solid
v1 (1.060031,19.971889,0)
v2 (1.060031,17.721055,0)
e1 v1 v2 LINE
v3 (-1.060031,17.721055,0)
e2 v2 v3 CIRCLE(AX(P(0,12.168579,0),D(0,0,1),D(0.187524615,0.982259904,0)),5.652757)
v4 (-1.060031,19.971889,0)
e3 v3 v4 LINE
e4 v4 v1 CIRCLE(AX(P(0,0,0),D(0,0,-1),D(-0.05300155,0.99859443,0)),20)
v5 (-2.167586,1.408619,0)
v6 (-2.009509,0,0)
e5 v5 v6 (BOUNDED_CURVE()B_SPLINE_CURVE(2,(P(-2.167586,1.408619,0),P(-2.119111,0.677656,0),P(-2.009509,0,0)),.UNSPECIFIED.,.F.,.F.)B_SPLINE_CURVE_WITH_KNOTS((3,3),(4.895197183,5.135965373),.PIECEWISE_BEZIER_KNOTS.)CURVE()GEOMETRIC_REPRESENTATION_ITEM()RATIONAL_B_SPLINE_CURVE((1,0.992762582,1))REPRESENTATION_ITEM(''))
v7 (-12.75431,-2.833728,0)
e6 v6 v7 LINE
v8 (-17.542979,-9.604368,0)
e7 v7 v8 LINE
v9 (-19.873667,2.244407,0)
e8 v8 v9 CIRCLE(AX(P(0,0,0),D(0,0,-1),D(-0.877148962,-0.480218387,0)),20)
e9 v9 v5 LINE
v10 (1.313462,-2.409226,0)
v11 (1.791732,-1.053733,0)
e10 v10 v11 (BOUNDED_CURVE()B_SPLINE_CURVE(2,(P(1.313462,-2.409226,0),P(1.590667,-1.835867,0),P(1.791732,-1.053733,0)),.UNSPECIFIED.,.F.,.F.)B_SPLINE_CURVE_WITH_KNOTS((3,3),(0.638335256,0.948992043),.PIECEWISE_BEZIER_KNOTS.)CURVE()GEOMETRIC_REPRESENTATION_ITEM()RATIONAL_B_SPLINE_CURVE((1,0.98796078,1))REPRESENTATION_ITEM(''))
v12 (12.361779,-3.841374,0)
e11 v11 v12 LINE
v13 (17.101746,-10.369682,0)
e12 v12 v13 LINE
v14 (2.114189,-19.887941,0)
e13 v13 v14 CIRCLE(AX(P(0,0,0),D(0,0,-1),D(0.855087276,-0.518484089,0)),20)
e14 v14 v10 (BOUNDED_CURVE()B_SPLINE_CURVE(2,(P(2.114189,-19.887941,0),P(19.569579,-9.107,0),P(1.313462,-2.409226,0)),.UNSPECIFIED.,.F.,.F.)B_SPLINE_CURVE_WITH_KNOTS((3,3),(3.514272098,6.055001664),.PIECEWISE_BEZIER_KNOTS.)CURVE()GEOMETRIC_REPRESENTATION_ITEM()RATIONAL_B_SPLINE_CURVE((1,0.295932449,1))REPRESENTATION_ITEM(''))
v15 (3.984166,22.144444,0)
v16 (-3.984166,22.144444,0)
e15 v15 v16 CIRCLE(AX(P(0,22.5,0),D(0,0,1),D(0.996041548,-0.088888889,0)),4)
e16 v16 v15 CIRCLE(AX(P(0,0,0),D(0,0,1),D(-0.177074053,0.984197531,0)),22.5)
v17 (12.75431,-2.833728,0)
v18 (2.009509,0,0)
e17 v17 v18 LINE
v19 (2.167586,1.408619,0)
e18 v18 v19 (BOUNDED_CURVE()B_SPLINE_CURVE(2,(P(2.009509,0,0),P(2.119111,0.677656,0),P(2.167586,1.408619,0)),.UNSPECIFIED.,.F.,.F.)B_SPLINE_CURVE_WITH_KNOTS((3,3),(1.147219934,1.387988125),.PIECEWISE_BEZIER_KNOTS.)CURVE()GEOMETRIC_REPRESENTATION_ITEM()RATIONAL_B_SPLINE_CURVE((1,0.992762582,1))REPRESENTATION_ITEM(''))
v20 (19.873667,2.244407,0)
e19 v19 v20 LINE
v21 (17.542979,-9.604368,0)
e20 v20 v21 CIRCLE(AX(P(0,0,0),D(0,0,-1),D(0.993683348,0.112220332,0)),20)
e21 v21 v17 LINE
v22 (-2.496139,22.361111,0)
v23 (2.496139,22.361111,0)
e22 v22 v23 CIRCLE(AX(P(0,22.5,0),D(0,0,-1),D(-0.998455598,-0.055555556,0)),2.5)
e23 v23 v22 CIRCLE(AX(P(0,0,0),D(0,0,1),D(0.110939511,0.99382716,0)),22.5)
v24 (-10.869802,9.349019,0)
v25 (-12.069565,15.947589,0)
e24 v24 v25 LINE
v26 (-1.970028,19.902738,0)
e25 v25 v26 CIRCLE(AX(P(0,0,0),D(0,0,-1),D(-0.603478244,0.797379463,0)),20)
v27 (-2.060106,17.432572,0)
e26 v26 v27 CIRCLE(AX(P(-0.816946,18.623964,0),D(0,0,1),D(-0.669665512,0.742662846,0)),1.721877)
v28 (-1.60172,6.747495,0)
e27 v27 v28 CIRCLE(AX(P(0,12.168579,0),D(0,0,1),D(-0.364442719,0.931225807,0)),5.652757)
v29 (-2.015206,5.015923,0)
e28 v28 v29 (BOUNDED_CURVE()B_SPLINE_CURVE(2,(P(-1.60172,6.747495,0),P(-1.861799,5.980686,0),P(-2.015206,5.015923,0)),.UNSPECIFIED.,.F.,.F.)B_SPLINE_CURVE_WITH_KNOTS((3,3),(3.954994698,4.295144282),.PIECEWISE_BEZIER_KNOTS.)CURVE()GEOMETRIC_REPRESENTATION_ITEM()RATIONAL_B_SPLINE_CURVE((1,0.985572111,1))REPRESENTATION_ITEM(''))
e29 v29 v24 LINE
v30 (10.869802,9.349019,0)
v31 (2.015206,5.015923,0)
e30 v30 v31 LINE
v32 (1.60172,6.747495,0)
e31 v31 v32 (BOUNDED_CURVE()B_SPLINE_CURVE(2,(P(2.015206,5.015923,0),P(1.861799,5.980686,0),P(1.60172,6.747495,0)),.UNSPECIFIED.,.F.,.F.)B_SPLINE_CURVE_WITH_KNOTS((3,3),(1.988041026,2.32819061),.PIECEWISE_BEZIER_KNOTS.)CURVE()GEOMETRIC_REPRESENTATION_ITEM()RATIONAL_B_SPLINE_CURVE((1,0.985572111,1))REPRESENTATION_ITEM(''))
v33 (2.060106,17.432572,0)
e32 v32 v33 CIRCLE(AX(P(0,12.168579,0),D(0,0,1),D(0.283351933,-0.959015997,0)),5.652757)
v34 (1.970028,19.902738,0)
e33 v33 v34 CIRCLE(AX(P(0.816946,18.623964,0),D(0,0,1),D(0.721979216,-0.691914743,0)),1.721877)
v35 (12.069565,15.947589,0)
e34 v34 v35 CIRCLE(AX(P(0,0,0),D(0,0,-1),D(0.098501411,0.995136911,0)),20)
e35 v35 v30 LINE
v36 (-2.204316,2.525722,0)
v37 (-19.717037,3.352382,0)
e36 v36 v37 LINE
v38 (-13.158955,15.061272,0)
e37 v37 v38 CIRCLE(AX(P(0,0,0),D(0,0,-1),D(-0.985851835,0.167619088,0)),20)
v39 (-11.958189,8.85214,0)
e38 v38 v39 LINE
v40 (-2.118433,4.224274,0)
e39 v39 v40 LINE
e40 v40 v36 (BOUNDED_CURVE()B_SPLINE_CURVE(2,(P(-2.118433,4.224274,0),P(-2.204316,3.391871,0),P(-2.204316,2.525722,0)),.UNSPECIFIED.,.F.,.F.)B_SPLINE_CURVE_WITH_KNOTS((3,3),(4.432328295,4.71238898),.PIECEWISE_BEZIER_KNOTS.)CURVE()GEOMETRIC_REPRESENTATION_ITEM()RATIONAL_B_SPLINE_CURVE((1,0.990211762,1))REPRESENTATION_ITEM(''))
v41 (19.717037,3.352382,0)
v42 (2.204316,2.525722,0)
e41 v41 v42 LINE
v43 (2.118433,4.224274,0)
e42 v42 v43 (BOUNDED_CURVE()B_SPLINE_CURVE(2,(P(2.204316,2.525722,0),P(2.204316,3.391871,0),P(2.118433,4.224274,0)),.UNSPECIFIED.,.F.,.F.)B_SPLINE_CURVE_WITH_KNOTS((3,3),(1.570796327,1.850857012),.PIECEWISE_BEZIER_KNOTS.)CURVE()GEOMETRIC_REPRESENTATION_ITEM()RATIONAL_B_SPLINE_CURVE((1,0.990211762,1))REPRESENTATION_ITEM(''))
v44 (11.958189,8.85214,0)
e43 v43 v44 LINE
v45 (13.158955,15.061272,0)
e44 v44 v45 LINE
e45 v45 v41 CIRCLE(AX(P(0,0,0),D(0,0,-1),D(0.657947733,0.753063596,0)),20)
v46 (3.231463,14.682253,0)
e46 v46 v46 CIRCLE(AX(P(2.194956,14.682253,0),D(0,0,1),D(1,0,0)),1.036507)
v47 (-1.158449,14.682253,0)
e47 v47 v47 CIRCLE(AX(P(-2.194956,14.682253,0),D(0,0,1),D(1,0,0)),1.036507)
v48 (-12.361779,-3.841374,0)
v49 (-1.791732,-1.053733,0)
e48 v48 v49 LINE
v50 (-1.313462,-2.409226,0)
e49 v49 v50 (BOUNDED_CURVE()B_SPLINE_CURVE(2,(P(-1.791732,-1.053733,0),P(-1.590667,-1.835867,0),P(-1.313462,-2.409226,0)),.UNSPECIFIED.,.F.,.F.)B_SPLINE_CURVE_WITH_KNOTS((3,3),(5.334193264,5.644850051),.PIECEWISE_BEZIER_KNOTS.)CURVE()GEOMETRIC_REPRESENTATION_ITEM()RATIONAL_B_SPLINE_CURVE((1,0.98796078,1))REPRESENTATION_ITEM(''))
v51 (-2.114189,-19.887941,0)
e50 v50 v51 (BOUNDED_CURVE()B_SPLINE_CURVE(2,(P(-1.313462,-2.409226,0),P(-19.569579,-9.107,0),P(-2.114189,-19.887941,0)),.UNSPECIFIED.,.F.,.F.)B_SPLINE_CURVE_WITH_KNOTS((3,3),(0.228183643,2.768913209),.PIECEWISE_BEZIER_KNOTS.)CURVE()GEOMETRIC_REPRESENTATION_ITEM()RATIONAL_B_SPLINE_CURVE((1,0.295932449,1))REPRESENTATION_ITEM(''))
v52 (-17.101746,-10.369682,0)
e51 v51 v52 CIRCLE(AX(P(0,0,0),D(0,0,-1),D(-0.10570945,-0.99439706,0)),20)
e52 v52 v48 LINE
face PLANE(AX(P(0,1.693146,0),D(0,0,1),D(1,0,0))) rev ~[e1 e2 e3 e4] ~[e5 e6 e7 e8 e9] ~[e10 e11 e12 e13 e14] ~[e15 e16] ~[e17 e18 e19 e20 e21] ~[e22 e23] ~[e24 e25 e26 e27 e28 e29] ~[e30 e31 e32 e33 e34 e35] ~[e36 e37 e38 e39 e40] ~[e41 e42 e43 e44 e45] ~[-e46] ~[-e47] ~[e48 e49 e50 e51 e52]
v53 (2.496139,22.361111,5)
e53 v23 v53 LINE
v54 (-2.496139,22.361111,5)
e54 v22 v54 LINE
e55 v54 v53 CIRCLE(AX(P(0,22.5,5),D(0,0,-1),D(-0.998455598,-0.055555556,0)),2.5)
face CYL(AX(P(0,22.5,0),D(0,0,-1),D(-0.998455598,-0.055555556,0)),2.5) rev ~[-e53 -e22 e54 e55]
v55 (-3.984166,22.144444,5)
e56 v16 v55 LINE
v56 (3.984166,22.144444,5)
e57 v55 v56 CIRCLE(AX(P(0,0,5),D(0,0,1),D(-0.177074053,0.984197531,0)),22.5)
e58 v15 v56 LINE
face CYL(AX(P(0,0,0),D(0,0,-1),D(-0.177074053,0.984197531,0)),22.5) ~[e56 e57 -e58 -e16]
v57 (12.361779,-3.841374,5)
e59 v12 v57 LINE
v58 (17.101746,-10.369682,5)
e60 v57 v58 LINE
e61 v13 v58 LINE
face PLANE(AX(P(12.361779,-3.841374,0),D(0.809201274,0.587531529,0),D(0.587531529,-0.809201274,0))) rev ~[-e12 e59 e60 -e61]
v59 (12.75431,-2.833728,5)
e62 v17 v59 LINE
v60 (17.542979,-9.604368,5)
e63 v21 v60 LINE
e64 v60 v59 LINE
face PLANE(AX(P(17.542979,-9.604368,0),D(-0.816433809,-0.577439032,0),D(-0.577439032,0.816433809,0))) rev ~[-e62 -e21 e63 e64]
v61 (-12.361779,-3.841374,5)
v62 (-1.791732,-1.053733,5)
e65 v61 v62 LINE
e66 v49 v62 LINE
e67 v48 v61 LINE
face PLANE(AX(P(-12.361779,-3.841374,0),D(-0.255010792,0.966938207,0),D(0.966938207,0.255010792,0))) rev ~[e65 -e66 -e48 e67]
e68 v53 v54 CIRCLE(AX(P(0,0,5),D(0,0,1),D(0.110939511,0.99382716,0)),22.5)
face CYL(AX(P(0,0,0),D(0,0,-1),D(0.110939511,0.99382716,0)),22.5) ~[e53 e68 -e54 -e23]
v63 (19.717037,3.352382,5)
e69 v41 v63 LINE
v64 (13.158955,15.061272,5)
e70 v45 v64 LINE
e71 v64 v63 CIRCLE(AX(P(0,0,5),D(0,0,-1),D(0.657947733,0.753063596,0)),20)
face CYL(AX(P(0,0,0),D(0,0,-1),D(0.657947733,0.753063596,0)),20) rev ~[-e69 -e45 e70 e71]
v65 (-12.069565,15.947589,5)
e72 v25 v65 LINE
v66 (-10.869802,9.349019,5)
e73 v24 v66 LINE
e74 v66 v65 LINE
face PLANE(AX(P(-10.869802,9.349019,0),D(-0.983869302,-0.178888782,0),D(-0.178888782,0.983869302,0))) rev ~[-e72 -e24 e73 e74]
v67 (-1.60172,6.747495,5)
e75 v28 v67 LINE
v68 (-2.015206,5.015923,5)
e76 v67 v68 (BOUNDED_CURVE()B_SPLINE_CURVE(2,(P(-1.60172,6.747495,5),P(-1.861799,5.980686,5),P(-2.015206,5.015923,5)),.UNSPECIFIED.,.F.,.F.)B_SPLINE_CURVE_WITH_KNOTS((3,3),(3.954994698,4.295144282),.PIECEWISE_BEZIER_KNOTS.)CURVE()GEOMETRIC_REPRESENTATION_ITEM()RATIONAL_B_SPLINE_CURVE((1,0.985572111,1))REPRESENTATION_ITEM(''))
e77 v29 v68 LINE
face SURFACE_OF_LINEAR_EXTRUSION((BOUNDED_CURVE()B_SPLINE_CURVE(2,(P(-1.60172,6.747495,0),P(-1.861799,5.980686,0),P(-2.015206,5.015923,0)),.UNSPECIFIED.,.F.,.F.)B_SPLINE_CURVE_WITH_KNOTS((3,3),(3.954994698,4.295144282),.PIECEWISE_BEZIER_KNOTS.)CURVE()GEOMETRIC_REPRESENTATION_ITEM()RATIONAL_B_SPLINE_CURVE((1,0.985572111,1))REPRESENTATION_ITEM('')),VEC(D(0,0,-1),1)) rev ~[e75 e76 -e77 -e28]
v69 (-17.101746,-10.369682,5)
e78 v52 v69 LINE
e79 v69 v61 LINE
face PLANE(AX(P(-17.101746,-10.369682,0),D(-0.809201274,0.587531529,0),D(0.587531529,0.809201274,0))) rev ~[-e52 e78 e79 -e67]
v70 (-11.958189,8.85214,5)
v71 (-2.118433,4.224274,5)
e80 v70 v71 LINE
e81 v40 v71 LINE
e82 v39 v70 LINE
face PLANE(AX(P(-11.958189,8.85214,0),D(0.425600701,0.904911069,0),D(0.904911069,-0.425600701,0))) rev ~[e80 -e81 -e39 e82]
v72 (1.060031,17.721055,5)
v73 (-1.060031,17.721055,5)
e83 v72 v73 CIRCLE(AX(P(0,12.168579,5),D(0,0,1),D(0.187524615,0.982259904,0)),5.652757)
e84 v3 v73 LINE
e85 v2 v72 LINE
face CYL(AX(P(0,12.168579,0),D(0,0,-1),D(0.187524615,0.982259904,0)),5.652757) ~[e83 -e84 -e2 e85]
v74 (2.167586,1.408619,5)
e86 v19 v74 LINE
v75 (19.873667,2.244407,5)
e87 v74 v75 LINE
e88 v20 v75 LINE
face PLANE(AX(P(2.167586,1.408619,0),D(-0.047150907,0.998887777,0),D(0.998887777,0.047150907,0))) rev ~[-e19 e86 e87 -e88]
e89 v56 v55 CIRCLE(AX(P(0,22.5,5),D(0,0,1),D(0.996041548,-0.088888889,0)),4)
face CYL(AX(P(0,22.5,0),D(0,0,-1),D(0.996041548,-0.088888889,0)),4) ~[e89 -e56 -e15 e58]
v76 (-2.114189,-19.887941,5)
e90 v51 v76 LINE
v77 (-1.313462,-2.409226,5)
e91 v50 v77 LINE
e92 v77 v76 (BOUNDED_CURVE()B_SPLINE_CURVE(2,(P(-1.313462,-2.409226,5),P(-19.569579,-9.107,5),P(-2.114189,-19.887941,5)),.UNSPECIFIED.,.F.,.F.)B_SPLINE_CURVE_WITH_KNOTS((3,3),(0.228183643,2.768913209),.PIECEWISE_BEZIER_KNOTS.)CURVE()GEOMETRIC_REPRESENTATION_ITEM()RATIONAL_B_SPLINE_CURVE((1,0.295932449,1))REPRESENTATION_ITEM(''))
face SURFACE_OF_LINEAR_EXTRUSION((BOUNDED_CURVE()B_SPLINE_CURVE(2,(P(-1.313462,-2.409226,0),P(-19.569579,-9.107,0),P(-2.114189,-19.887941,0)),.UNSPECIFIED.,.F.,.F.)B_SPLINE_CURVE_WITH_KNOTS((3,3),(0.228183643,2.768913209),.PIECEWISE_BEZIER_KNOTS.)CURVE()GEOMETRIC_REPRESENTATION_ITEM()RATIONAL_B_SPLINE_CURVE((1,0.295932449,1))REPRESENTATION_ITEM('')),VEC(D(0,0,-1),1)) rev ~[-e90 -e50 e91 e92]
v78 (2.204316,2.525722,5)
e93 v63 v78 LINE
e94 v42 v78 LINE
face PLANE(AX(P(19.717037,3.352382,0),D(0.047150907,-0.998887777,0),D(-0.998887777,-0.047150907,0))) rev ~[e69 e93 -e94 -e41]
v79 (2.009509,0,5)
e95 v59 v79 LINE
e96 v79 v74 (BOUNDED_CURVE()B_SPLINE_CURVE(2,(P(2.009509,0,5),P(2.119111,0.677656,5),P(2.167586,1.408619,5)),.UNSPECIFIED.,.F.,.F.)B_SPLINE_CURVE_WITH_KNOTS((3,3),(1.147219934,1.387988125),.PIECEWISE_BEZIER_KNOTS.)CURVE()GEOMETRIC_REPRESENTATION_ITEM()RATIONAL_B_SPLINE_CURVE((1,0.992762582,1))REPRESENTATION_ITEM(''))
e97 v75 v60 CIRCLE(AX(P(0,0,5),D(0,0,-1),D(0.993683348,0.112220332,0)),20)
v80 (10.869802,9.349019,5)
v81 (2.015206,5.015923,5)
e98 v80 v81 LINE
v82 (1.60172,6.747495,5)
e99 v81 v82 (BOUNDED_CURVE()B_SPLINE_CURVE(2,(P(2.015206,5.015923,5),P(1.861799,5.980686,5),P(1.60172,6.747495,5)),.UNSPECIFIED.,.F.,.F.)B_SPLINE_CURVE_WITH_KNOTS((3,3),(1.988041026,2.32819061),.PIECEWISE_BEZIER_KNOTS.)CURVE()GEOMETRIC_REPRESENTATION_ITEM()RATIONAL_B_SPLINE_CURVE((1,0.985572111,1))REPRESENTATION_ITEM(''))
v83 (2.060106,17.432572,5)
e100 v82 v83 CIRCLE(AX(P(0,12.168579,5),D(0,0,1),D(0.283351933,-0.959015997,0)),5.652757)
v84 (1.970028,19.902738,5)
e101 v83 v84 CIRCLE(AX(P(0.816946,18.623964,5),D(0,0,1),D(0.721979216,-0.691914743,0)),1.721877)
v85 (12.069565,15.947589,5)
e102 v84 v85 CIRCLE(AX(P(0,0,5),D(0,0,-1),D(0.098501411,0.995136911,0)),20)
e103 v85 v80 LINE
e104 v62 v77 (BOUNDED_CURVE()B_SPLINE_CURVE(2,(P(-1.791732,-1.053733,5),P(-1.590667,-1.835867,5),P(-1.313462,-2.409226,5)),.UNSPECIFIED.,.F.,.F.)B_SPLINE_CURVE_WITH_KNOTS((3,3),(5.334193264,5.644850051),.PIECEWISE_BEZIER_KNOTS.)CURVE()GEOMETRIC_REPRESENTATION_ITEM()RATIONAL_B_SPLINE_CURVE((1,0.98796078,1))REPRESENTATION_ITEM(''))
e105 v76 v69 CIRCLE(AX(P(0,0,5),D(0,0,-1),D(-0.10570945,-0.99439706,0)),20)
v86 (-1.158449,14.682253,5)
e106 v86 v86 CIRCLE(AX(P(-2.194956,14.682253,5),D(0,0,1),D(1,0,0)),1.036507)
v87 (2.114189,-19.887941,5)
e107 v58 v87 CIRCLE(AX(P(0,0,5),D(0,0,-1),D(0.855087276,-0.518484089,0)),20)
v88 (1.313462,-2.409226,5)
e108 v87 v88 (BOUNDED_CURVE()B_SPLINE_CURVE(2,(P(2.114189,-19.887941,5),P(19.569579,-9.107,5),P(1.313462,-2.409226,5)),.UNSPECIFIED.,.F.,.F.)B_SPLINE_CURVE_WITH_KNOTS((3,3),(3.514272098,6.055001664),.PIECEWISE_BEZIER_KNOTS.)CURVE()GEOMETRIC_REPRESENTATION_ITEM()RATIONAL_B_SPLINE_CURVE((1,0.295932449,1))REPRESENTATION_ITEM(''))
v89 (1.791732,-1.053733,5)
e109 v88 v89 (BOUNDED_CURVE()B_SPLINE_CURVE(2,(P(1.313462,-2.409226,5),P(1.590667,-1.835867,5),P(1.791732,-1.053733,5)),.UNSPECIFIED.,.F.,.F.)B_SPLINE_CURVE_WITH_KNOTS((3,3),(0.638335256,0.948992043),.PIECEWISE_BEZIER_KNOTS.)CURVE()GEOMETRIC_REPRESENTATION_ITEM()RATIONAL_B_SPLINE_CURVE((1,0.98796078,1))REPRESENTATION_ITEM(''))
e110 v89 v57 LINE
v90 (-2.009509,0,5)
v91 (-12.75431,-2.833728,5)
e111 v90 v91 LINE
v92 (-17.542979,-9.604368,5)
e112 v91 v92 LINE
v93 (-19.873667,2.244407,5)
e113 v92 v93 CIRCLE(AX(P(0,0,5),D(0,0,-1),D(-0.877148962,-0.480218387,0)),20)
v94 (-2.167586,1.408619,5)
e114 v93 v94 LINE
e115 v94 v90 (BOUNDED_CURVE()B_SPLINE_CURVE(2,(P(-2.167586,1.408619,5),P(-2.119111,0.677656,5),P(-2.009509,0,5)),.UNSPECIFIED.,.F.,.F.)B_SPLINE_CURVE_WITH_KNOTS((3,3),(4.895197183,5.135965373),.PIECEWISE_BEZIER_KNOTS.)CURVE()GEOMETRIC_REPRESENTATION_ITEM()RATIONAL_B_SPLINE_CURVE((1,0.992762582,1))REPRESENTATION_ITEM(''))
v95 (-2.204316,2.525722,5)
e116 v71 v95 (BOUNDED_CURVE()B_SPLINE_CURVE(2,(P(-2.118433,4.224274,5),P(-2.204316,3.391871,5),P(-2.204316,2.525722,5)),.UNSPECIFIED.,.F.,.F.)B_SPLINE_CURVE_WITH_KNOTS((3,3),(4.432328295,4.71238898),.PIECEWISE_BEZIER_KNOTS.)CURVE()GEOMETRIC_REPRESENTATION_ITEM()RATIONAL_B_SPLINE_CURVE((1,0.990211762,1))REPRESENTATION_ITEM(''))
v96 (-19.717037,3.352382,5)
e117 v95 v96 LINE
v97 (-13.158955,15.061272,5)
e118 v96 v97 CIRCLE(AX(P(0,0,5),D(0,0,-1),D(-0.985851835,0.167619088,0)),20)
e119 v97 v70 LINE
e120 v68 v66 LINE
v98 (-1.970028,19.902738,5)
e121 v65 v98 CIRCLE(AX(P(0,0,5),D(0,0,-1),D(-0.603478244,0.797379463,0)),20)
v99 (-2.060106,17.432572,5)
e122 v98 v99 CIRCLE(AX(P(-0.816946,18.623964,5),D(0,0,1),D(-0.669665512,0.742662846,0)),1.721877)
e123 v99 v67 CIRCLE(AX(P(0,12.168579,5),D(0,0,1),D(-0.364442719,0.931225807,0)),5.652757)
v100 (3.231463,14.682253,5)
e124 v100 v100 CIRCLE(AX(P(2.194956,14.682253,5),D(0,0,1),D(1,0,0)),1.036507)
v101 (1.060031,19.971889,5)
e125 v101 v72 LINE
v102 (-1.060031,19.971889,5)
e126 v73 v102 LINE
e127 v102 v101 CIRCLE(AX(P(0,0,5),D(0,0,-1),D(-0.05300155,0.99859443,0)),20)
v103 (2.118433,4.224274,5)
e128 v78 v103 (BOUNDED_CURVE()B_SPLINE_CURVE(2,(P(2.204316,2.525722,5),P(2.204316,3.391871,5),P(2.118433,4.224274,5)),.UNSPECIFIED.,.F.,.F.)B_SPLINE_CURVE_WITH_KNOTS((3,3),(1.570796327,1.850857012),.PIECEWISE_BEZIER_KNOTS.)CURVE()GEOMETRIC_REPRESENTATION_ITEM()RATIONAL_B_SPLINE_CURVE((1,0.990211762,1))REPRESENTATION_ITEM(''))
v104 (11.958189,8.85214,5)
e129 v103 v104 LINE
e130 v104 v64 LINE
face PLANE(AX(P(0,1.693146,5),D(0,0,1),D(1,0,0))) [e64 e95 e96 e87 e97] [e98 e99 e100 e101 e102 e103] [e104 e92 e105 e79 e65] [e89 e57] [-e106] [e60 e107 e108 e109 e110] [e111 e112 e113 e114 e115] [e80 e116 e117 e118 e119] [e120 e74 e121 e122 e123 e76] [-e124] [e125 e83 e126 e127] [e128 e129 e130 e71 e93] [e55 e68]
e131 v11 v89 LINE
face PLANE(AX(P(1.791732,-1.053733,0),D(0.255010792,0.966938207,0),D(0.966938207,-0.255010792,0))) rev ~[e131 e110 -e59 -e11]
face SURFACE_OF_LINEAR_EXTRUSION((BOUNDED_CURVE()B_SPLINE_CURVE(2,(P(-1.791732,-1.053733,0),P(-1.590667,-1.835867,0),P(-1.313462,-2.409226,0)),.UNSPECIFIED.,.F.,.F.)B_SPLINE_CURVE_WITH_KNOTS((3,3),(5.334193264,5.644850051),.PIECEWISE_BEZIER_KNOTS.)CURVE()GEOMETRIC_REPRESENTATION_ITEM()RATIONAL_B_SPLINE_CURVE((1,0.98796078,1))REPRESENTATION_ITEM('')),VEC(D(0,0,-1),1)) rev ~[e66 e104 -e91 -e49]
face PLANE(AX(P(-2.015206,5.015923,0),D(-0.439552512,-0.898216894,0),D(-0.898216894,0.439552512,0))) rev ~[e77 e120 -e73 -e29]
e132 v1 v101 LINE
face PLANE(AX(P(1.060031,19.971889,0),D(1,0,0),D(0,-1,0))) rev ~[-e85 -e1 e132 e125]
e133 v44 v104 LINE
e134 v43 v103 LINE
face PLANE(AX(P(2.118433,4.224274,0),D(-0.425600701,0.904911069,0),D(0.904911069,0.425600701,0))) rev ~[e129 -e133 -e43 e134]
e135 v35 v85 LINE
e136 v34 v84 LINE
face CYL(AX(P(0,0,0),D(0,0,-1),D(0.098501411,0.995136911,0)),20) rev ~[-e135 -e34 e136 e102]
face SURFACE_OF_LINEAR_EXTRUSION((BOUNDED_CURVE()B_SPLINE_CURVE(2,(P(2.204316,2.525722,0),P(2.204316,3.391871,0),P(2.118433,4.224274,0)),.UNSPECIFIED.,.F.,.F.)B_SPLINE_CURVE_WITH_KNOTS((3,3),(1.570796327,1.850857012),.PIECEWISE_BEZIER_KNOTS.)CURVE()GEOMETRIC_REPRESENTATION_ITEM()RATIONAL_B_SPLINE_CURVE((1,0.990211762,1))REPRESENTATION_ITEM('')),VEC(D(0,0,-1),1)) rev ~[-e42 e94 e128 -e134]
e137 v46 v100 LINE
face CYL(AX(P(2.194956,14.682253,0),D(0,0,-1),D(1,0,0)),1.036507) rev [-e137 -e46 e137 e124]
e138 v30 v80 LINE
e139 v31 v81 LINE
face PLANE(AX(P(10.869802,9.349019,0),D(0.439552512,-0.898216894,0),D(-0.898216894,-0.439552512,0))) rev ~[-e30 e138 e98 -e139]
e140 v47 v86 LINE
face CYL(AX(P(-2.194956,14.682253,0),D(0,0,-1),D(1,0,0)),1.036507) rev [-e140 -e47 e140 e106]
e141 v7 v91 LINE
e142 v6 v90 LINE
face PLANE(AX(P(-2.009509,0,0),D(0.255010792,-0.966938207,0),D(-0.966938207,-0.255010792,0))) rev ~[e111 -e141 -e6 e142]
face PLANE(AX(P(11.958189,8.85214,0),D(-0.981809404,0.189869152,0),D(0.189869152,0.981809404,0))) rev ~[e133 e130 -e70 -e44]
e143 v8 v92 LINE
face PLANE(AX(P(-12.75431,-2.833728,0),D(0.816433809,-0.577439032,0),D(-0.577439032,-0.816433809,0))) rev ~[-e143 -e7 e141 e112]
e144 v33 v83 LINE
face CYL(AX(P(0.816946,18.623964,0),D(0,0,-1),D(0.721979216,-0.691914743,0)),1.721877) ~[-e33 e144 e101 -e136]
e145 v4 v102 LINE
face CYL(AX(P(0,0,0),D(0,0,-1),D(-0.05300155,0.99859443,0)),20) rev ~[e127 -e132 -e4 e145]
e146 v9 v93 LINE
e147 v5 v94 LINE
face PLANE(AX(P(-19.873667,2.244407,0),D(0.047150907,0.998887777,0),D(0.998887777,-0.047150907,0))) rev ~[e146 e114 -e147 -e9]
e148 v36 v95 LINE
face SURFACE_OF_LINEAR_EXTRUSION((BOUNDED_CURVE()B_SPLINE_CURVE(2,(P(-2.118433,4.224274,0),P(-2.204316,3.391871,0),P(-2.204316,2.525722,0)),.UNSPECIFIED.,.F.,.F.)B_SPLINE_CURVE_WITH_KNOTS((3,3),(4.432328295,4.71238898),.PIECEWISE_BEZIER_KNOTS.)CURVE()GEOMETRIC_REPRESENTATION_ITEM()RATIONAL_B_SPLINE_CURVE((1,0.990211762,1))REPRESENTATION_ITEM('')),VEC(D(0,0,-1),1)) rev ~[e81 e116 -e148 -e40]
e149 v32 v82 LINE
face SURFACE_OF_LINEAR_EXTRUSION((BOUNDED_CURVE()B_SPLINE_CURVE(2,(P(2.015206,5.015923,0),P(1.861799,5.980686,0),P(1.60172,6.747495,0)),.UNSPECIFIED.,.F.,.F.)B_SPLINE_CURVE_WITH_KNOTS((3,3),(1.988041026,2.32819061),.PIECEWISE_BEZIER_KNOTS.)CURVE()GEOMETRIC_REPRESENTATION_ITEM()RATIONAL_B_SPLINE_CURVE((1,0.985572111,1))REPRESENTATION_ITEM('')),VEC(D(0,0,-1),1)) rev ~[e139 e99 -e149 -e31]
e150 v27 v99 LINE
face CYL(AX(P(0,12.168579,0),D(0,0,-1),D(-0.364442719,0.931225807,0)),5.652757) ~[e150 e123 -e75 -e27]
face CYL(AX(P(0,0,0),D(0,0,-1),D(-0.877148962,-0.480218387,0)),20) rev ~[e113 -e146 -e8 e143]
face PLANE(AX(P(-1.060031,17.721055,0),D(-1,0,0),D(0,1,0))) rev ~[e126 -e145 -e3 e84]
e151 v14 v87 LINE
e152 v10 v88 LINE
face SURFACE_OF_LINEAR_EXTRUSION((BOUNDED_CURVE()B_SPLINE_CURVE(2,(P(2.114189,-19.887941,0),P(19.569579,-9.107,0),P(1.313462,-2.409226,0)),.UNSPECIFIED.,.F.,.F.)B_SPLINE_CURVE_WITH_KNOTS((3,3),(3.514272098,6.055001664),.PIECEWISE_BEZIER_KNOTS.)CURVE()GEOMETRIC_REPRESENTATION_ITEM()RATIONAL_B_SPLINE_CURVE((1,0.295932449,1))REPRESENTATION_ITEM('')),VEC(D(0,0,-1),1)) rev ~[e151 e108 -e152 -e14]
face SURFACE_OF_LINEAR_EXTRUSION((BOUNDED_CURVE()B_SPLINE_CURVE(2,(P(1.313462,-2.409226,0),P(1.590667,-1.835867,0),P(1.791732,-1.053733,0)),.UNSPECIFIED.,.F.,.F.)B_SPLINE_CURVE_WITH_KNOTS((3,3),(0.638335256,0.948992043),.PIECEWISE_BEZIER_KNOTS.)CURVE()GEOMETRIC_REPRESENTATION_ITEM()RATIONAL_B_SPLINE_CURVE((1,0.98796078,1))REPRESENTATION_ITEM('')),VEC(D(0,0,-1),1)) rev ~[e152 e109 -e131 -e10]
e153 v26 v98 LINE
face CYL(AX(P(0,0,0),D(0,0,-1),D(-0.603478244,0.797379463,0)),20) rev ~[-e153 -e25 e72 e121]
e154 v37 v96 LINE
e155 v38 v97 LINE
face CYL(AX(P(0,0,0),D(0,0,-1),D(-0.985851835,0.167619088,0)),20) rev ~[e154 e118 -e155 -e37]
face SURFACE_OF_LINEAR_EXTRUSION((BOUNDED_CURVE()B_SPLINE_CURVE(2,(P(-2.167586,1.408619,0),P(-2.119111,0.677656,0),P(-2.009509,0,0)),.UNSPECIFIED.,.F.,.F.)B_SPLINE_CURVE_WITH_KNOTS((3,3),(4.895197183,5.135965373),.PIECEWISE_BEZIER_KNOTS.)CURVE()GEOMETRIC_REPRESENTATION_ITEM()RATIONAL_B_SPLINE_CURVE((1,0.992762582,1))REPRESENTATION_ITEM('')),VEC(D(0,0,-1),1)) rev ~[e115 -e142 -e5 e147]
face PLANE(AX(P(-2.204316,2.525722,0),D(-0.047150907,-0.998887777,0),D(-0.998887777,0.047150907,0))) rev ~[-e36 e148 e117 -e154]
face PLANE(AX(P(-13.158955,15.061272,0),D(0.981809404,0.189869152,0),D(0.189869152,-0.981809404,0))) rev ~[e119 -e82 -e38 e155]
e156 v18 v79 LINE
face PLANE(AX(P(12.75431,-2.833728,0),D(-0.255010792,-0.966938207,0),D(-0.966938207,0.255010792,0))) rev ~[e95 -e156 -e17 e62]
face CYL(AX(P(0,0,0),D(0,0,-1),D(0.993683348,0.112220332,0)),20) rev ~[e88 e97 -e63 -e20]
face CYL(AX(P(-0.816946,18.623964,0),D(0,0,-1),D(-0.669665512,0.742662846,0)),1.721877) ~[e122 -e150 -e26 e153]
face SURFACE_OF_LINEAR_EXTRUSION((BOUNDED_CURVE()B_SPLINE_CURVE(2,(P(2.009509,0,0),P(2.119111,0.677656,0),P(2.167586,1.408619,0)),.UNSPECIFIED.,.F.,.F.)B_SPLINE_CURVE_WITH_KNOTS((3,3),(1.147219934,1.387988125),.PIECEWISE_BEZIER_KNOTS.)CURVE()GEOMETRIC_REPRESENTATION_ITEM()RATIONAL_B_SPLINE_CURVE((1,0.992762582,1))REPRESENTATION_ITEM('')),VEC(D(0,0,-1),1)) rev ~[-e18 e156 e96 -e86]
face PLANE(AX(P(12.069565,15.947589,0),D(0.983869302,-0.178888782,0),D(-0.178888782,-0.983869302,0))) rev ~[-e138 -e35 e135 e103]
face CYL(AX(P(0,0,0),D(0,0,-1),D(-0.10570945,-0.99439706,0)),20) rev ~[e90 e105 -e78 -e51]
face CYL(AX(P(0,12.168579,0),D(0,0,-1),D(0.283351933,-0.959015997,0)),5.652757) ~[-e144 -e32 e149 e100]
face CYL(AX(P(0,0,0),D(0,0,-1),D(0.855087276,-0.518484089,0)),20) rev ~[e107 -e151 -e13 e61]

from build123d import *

# Parameters (mm, degrees)
F0_R     = 1.0365074283
F1_DEPTH = 5


with BuildPart() as f1:
    # F0 (on Top) → F1 (new body)
    with BuildSketch(Plane.XY):
        with BuildLine():
            ThreePointArc((-3.9841661922, 22.1444444444), (0, -22.5), (3.9841661922, 22.1444444444))
            ThreePointArc((3.9841661922, 22.1444444444), (0, 26.5), (-3.9841661922, 22.1444444444))
        make_face()
        with BuildLine():
            Line((-12.361779034, -3.8413735326), (-1.7917317985, -1.0537330189))
            add(Edge.make_bspline(
                [(-1.7917317985, -1.0537330189), (-1.5906673745, -1.8358674236), (-1.3134624845, -2.409225668)],
                knots=[5.3341932638, 5.3341932638, 5.3341932638, 5.6448500513, 5.6448500513, 5.6448500513], degree=2, weights=[1, 0.98796078, 1]))
            add(Edge.make_bspline(
                [(-1.3134624845, -2.409225668), (-19.5695791708, -9.1070002923), (-2.1141889978, -19.8879411926)],
                knots=[0.2281836428, 0.2281836428, 0.2281836428, 2.7689132091, 2.7689132091, 2.7689132091], degree=2, weights=[1, 0.2959324485, 1]))
            ThreePointArc((-2.1141889978, -19.8879411926), (-10.722049734, -16.8830580613), (-17.1017455245, -10.3696817702))
            Line((-17.1017455245, -10.3696817702), (-12.361779034, -3.8413735326))
        make_face(mode=Mode.SUBTRACT)
        with BuildLine():
            Line((-19.8736669699, 2.2444066409), (-2.1675859993, 1.4086192827))
            add(Edge.make_bspline(
                [(-2.1675859993, 1.4086192827), (-2.1191105118, 0.6776559948), (-2.0095094668, 0)],
                knots=[4.8951971827, 4.8951971827, 4.8951971827, 5.1359653729, 5.1359653729, 5.1359653729], degree=2, weights=[1, 0.9927625817, 1]))
            Line((-2.0095094668, 0), (-12.7543099225, -2.8337282129))
            Line((-12.7543099225, -2.8337282129), (-17.5429792365, -9.6043677308))
            ThreePointArc((-17.5429792365, -9.6043677308), (-19.6239577267, -3.8600884885), (-19.8736669699, 2.2444066409))
        make_face(mode=Mode.SUBTRACT)
        with BuildLine():
            add(Edge.make_bspline(
                [(2.1141889978, -19.8879411926), (19.5695791708, -9.1070002923), (1.3134624845, -2.409225668)],
                knots=[3.5142720981, 3.5142720981, 3.5142720981, 6.0550016644, 6.0550016644, 6.0550016644], degree=2, weights=[1, 0.2959324485, 1]))
            add(Edge.make_bspline(
                [(1.3134624845, -2.409225668), (1.5906673745, -1.8358674236), (1.7917317985, -1.0537330189)],
                knots=[0.6383352558, 0.6383352558, 0.6383352558, 0.9489920434, 0.9489920434, 0.9489920434], degree=2, weights=[1, 0.98796078, 1]))
            Line((1.7917317985, -1.0537330189), (12.361779034, -3.8413735326))
            Line((12.361779034, -3.8413735326), (17.1017455245, -10.3696817702))
            ThreePointArc((17.1017455245, -10.3696817702), (10.722049734, -16.8830580613), (2.1141889978, -19.8879411926))
        make_face(mode=Mode.SUBTRACT)
        with BuildLine():
            add(Edge.make_bspline(
                [(2.0095094668, 0), (2.1191105118, 0.6776559948), (2.1675859993, 1.4086192827)],
                knots=[1.1472199343, 1.1472199343, 1.1472199343, 1.3879881245, 1.3879881245, 1.3879881245], degree=2, weights=[1, 0.9927625817, 1]))
            Line((2.1675859993, 1.4086192827), (19.8736669699, 2.2444066409))
            ThreePointArc((19.8736669699, 2.2444066409), (19.6239577267, -3.8600884885), (17.5429792365, -9.6043677308))
            Line((17.5429792365, -9.6043677308), (12.7543099225, -2.8337282129))
            Line((12.7543099225, -2.8337282129), (2.0095094668, 0))
        make_face(mode=Mode.SUBTRACT)
        with BuildLine():
            Line((-13.1589546645, 15.0612719296), (-11.9581893981, 8.8521399225))
            Line((-11.9581893981, 8.8521399225), (-2.1184332771, 4.224274002))
            add(Edge.make_bspline(
                [(-2.1184332771, 4.224274002), (-2.2043163846, 3.3918710061), (-2.2043163846, 2.5257216766)],
                knots=[4.4323282948, 4.4323282948, 4.4323282948, 4.7123889804, 4.7123889804, 4.7123889804], degree=2, weights=[1, 0.9902117616, 1]))
            Line((-2.2043163846, 2.5257216766), (-19.7170367089, 3.3523817534))
            ThreePointArc((-19.7170367089, 3.3523817534), (-17.4494191733, 9.7733193192), (-13.1589546645, 15.0612719296))
        make_face(mode=Mode.SUBTRACT)
        with BuildLine():
            ThreePointArc((-12.0695648894, 15.9475892655), (-7.2930339661, 18.6228798946), (-1.9700282112, 19.9027382249))
            ThreePointArc((-1.9700282112, 19.9027382249), (-2.5376799412, 18.6867126776), (-2.0601059912, 17.4325716407))
            ThreePointArc((-2.0601059912, 17.4325716407), (-5.6475621585, 11.9263001397), (-1.6017195104, 6.7474947888))
            add(Edge.make_bspline(
                [(-1.6017195104, 6.7474947888), (-1.8617987609, 5.9806856047), (-2.0152058244, 5.0159234701)],
                knots=[3.9549946977, 3.9549946977, 3.9549946977, 4.2951442816, 4.2951442816, 4.2951442816], degree=2, weights=[1, 0.9855721107, 1]))
            Line((-2.0152058244, 5.0159234701), (-10.8698017311, 9.3490192993))
            Line((-10.8698017311, 9.3490192993), (-12.0695648894, 15.9475892655))
        make_face(mode=Mode.SUBTRACT)
        with Locations((-2.194955945, 14.6822528914)):
            Circle(F0_R, mode=Mode.SUBTRACT)
        with BuildLine():
            ThreePointArc((-1.0600310052, 19.9718886004), (0, 20), (1.0600310052, 19.9718886004))
            Line((1.0600310052, 19.9718886004), (1.0600310052, 17.7210549676))
            ThreePointArc((1.0600310052, 17.7210549676), (0, 17.8213354129), (-1.0600310052, 17.7210549676))
            Line((-1.0600310052, 17.7210549676), (-1.0600310052, 19.9718886004))
        make_face(mode=Mode.SUBTRACT)
        with BuildLine():
            ThreePointArc((-2.4961389938, 22.3611111111), (0, 25), (2.4961389938, 22.3611111111))
            ThreePointArc((2.4961389938, 22.3611111111), (0, 22.5), (-2.4961389938, 22.3611111111))
        make_face(mode=Mode.SUBTRACT)
        with BuildLine():
            add(Edge.make_bspline(
                [(2.2043163846, 2.5257216766), (2.2043163846, 3.3918710061), (2.1184332771, 4.224274002)],
                knots=[1.5707963268, 1.5707963268, 1.5707963268, 1.8508570124, 1.8508570124, 1.8508570124], degree=2, weights=[1, 0.9902117616, 1]))
            Line((2.1184332771, 4.224274002), (11.9581893981, 8.8521399225))
            Line((11.9581893981, 8.8521399225), (13.1589546645, 15.0612719296))
            ThreePointArc((13.1589546645, 15.0612719296), (17.4494191733, 9.7733193192), (19.7170367089, 3.3523817534))
            Line((19.7170367089, 3.3523817534), (2.2043163846, 2.5257216766))
        make_face(mode=Mode.SUBTRACT)
        with BuildLine():
            add(Edge.make_bspline(
                [(2.0152058244, 5.0159234701), (1.8617987609, 5.9806856047), (1.6017195104, 6.7474947888)],
                knots=[1.9880410256, 1.9880410256, 1.9880410256, 2.3281906095, 2.3281906095, 2.3281906095], degree=2, weights=[1, 0.9855721107, 1]))
            ThreePointArc((1.6017195104, 6.7474947888), (5.6475621585, 11.9263001397), (2.0601059912, 17.4325716407))
            ThreePointArc((2.0601059912, 17.4325716407), (2.5376799412, 18.6867126776), (1.9700282112, 19.9027382249))
            ThreePointArc((1.9700282112, 19.9027382249), (7.2930339661, 18.6228798946), (12.0695648894, 15.9475892655))
            Line((12.0695648894, 15.9475892655), (10.8698017311, 9.3490192993))
            Line((10.8698017311, 9.3490192993), (2.0152058244, 5.0159234701))
        make_face(mode=Mode.SUBTRACT)
        with Locations((2.194955945, 14.6822528914)):
            Circle(F0_R, mode=Mode.SUBTRACT)
    extrude(amount=F1_DEPTH)


solid = f1.part
